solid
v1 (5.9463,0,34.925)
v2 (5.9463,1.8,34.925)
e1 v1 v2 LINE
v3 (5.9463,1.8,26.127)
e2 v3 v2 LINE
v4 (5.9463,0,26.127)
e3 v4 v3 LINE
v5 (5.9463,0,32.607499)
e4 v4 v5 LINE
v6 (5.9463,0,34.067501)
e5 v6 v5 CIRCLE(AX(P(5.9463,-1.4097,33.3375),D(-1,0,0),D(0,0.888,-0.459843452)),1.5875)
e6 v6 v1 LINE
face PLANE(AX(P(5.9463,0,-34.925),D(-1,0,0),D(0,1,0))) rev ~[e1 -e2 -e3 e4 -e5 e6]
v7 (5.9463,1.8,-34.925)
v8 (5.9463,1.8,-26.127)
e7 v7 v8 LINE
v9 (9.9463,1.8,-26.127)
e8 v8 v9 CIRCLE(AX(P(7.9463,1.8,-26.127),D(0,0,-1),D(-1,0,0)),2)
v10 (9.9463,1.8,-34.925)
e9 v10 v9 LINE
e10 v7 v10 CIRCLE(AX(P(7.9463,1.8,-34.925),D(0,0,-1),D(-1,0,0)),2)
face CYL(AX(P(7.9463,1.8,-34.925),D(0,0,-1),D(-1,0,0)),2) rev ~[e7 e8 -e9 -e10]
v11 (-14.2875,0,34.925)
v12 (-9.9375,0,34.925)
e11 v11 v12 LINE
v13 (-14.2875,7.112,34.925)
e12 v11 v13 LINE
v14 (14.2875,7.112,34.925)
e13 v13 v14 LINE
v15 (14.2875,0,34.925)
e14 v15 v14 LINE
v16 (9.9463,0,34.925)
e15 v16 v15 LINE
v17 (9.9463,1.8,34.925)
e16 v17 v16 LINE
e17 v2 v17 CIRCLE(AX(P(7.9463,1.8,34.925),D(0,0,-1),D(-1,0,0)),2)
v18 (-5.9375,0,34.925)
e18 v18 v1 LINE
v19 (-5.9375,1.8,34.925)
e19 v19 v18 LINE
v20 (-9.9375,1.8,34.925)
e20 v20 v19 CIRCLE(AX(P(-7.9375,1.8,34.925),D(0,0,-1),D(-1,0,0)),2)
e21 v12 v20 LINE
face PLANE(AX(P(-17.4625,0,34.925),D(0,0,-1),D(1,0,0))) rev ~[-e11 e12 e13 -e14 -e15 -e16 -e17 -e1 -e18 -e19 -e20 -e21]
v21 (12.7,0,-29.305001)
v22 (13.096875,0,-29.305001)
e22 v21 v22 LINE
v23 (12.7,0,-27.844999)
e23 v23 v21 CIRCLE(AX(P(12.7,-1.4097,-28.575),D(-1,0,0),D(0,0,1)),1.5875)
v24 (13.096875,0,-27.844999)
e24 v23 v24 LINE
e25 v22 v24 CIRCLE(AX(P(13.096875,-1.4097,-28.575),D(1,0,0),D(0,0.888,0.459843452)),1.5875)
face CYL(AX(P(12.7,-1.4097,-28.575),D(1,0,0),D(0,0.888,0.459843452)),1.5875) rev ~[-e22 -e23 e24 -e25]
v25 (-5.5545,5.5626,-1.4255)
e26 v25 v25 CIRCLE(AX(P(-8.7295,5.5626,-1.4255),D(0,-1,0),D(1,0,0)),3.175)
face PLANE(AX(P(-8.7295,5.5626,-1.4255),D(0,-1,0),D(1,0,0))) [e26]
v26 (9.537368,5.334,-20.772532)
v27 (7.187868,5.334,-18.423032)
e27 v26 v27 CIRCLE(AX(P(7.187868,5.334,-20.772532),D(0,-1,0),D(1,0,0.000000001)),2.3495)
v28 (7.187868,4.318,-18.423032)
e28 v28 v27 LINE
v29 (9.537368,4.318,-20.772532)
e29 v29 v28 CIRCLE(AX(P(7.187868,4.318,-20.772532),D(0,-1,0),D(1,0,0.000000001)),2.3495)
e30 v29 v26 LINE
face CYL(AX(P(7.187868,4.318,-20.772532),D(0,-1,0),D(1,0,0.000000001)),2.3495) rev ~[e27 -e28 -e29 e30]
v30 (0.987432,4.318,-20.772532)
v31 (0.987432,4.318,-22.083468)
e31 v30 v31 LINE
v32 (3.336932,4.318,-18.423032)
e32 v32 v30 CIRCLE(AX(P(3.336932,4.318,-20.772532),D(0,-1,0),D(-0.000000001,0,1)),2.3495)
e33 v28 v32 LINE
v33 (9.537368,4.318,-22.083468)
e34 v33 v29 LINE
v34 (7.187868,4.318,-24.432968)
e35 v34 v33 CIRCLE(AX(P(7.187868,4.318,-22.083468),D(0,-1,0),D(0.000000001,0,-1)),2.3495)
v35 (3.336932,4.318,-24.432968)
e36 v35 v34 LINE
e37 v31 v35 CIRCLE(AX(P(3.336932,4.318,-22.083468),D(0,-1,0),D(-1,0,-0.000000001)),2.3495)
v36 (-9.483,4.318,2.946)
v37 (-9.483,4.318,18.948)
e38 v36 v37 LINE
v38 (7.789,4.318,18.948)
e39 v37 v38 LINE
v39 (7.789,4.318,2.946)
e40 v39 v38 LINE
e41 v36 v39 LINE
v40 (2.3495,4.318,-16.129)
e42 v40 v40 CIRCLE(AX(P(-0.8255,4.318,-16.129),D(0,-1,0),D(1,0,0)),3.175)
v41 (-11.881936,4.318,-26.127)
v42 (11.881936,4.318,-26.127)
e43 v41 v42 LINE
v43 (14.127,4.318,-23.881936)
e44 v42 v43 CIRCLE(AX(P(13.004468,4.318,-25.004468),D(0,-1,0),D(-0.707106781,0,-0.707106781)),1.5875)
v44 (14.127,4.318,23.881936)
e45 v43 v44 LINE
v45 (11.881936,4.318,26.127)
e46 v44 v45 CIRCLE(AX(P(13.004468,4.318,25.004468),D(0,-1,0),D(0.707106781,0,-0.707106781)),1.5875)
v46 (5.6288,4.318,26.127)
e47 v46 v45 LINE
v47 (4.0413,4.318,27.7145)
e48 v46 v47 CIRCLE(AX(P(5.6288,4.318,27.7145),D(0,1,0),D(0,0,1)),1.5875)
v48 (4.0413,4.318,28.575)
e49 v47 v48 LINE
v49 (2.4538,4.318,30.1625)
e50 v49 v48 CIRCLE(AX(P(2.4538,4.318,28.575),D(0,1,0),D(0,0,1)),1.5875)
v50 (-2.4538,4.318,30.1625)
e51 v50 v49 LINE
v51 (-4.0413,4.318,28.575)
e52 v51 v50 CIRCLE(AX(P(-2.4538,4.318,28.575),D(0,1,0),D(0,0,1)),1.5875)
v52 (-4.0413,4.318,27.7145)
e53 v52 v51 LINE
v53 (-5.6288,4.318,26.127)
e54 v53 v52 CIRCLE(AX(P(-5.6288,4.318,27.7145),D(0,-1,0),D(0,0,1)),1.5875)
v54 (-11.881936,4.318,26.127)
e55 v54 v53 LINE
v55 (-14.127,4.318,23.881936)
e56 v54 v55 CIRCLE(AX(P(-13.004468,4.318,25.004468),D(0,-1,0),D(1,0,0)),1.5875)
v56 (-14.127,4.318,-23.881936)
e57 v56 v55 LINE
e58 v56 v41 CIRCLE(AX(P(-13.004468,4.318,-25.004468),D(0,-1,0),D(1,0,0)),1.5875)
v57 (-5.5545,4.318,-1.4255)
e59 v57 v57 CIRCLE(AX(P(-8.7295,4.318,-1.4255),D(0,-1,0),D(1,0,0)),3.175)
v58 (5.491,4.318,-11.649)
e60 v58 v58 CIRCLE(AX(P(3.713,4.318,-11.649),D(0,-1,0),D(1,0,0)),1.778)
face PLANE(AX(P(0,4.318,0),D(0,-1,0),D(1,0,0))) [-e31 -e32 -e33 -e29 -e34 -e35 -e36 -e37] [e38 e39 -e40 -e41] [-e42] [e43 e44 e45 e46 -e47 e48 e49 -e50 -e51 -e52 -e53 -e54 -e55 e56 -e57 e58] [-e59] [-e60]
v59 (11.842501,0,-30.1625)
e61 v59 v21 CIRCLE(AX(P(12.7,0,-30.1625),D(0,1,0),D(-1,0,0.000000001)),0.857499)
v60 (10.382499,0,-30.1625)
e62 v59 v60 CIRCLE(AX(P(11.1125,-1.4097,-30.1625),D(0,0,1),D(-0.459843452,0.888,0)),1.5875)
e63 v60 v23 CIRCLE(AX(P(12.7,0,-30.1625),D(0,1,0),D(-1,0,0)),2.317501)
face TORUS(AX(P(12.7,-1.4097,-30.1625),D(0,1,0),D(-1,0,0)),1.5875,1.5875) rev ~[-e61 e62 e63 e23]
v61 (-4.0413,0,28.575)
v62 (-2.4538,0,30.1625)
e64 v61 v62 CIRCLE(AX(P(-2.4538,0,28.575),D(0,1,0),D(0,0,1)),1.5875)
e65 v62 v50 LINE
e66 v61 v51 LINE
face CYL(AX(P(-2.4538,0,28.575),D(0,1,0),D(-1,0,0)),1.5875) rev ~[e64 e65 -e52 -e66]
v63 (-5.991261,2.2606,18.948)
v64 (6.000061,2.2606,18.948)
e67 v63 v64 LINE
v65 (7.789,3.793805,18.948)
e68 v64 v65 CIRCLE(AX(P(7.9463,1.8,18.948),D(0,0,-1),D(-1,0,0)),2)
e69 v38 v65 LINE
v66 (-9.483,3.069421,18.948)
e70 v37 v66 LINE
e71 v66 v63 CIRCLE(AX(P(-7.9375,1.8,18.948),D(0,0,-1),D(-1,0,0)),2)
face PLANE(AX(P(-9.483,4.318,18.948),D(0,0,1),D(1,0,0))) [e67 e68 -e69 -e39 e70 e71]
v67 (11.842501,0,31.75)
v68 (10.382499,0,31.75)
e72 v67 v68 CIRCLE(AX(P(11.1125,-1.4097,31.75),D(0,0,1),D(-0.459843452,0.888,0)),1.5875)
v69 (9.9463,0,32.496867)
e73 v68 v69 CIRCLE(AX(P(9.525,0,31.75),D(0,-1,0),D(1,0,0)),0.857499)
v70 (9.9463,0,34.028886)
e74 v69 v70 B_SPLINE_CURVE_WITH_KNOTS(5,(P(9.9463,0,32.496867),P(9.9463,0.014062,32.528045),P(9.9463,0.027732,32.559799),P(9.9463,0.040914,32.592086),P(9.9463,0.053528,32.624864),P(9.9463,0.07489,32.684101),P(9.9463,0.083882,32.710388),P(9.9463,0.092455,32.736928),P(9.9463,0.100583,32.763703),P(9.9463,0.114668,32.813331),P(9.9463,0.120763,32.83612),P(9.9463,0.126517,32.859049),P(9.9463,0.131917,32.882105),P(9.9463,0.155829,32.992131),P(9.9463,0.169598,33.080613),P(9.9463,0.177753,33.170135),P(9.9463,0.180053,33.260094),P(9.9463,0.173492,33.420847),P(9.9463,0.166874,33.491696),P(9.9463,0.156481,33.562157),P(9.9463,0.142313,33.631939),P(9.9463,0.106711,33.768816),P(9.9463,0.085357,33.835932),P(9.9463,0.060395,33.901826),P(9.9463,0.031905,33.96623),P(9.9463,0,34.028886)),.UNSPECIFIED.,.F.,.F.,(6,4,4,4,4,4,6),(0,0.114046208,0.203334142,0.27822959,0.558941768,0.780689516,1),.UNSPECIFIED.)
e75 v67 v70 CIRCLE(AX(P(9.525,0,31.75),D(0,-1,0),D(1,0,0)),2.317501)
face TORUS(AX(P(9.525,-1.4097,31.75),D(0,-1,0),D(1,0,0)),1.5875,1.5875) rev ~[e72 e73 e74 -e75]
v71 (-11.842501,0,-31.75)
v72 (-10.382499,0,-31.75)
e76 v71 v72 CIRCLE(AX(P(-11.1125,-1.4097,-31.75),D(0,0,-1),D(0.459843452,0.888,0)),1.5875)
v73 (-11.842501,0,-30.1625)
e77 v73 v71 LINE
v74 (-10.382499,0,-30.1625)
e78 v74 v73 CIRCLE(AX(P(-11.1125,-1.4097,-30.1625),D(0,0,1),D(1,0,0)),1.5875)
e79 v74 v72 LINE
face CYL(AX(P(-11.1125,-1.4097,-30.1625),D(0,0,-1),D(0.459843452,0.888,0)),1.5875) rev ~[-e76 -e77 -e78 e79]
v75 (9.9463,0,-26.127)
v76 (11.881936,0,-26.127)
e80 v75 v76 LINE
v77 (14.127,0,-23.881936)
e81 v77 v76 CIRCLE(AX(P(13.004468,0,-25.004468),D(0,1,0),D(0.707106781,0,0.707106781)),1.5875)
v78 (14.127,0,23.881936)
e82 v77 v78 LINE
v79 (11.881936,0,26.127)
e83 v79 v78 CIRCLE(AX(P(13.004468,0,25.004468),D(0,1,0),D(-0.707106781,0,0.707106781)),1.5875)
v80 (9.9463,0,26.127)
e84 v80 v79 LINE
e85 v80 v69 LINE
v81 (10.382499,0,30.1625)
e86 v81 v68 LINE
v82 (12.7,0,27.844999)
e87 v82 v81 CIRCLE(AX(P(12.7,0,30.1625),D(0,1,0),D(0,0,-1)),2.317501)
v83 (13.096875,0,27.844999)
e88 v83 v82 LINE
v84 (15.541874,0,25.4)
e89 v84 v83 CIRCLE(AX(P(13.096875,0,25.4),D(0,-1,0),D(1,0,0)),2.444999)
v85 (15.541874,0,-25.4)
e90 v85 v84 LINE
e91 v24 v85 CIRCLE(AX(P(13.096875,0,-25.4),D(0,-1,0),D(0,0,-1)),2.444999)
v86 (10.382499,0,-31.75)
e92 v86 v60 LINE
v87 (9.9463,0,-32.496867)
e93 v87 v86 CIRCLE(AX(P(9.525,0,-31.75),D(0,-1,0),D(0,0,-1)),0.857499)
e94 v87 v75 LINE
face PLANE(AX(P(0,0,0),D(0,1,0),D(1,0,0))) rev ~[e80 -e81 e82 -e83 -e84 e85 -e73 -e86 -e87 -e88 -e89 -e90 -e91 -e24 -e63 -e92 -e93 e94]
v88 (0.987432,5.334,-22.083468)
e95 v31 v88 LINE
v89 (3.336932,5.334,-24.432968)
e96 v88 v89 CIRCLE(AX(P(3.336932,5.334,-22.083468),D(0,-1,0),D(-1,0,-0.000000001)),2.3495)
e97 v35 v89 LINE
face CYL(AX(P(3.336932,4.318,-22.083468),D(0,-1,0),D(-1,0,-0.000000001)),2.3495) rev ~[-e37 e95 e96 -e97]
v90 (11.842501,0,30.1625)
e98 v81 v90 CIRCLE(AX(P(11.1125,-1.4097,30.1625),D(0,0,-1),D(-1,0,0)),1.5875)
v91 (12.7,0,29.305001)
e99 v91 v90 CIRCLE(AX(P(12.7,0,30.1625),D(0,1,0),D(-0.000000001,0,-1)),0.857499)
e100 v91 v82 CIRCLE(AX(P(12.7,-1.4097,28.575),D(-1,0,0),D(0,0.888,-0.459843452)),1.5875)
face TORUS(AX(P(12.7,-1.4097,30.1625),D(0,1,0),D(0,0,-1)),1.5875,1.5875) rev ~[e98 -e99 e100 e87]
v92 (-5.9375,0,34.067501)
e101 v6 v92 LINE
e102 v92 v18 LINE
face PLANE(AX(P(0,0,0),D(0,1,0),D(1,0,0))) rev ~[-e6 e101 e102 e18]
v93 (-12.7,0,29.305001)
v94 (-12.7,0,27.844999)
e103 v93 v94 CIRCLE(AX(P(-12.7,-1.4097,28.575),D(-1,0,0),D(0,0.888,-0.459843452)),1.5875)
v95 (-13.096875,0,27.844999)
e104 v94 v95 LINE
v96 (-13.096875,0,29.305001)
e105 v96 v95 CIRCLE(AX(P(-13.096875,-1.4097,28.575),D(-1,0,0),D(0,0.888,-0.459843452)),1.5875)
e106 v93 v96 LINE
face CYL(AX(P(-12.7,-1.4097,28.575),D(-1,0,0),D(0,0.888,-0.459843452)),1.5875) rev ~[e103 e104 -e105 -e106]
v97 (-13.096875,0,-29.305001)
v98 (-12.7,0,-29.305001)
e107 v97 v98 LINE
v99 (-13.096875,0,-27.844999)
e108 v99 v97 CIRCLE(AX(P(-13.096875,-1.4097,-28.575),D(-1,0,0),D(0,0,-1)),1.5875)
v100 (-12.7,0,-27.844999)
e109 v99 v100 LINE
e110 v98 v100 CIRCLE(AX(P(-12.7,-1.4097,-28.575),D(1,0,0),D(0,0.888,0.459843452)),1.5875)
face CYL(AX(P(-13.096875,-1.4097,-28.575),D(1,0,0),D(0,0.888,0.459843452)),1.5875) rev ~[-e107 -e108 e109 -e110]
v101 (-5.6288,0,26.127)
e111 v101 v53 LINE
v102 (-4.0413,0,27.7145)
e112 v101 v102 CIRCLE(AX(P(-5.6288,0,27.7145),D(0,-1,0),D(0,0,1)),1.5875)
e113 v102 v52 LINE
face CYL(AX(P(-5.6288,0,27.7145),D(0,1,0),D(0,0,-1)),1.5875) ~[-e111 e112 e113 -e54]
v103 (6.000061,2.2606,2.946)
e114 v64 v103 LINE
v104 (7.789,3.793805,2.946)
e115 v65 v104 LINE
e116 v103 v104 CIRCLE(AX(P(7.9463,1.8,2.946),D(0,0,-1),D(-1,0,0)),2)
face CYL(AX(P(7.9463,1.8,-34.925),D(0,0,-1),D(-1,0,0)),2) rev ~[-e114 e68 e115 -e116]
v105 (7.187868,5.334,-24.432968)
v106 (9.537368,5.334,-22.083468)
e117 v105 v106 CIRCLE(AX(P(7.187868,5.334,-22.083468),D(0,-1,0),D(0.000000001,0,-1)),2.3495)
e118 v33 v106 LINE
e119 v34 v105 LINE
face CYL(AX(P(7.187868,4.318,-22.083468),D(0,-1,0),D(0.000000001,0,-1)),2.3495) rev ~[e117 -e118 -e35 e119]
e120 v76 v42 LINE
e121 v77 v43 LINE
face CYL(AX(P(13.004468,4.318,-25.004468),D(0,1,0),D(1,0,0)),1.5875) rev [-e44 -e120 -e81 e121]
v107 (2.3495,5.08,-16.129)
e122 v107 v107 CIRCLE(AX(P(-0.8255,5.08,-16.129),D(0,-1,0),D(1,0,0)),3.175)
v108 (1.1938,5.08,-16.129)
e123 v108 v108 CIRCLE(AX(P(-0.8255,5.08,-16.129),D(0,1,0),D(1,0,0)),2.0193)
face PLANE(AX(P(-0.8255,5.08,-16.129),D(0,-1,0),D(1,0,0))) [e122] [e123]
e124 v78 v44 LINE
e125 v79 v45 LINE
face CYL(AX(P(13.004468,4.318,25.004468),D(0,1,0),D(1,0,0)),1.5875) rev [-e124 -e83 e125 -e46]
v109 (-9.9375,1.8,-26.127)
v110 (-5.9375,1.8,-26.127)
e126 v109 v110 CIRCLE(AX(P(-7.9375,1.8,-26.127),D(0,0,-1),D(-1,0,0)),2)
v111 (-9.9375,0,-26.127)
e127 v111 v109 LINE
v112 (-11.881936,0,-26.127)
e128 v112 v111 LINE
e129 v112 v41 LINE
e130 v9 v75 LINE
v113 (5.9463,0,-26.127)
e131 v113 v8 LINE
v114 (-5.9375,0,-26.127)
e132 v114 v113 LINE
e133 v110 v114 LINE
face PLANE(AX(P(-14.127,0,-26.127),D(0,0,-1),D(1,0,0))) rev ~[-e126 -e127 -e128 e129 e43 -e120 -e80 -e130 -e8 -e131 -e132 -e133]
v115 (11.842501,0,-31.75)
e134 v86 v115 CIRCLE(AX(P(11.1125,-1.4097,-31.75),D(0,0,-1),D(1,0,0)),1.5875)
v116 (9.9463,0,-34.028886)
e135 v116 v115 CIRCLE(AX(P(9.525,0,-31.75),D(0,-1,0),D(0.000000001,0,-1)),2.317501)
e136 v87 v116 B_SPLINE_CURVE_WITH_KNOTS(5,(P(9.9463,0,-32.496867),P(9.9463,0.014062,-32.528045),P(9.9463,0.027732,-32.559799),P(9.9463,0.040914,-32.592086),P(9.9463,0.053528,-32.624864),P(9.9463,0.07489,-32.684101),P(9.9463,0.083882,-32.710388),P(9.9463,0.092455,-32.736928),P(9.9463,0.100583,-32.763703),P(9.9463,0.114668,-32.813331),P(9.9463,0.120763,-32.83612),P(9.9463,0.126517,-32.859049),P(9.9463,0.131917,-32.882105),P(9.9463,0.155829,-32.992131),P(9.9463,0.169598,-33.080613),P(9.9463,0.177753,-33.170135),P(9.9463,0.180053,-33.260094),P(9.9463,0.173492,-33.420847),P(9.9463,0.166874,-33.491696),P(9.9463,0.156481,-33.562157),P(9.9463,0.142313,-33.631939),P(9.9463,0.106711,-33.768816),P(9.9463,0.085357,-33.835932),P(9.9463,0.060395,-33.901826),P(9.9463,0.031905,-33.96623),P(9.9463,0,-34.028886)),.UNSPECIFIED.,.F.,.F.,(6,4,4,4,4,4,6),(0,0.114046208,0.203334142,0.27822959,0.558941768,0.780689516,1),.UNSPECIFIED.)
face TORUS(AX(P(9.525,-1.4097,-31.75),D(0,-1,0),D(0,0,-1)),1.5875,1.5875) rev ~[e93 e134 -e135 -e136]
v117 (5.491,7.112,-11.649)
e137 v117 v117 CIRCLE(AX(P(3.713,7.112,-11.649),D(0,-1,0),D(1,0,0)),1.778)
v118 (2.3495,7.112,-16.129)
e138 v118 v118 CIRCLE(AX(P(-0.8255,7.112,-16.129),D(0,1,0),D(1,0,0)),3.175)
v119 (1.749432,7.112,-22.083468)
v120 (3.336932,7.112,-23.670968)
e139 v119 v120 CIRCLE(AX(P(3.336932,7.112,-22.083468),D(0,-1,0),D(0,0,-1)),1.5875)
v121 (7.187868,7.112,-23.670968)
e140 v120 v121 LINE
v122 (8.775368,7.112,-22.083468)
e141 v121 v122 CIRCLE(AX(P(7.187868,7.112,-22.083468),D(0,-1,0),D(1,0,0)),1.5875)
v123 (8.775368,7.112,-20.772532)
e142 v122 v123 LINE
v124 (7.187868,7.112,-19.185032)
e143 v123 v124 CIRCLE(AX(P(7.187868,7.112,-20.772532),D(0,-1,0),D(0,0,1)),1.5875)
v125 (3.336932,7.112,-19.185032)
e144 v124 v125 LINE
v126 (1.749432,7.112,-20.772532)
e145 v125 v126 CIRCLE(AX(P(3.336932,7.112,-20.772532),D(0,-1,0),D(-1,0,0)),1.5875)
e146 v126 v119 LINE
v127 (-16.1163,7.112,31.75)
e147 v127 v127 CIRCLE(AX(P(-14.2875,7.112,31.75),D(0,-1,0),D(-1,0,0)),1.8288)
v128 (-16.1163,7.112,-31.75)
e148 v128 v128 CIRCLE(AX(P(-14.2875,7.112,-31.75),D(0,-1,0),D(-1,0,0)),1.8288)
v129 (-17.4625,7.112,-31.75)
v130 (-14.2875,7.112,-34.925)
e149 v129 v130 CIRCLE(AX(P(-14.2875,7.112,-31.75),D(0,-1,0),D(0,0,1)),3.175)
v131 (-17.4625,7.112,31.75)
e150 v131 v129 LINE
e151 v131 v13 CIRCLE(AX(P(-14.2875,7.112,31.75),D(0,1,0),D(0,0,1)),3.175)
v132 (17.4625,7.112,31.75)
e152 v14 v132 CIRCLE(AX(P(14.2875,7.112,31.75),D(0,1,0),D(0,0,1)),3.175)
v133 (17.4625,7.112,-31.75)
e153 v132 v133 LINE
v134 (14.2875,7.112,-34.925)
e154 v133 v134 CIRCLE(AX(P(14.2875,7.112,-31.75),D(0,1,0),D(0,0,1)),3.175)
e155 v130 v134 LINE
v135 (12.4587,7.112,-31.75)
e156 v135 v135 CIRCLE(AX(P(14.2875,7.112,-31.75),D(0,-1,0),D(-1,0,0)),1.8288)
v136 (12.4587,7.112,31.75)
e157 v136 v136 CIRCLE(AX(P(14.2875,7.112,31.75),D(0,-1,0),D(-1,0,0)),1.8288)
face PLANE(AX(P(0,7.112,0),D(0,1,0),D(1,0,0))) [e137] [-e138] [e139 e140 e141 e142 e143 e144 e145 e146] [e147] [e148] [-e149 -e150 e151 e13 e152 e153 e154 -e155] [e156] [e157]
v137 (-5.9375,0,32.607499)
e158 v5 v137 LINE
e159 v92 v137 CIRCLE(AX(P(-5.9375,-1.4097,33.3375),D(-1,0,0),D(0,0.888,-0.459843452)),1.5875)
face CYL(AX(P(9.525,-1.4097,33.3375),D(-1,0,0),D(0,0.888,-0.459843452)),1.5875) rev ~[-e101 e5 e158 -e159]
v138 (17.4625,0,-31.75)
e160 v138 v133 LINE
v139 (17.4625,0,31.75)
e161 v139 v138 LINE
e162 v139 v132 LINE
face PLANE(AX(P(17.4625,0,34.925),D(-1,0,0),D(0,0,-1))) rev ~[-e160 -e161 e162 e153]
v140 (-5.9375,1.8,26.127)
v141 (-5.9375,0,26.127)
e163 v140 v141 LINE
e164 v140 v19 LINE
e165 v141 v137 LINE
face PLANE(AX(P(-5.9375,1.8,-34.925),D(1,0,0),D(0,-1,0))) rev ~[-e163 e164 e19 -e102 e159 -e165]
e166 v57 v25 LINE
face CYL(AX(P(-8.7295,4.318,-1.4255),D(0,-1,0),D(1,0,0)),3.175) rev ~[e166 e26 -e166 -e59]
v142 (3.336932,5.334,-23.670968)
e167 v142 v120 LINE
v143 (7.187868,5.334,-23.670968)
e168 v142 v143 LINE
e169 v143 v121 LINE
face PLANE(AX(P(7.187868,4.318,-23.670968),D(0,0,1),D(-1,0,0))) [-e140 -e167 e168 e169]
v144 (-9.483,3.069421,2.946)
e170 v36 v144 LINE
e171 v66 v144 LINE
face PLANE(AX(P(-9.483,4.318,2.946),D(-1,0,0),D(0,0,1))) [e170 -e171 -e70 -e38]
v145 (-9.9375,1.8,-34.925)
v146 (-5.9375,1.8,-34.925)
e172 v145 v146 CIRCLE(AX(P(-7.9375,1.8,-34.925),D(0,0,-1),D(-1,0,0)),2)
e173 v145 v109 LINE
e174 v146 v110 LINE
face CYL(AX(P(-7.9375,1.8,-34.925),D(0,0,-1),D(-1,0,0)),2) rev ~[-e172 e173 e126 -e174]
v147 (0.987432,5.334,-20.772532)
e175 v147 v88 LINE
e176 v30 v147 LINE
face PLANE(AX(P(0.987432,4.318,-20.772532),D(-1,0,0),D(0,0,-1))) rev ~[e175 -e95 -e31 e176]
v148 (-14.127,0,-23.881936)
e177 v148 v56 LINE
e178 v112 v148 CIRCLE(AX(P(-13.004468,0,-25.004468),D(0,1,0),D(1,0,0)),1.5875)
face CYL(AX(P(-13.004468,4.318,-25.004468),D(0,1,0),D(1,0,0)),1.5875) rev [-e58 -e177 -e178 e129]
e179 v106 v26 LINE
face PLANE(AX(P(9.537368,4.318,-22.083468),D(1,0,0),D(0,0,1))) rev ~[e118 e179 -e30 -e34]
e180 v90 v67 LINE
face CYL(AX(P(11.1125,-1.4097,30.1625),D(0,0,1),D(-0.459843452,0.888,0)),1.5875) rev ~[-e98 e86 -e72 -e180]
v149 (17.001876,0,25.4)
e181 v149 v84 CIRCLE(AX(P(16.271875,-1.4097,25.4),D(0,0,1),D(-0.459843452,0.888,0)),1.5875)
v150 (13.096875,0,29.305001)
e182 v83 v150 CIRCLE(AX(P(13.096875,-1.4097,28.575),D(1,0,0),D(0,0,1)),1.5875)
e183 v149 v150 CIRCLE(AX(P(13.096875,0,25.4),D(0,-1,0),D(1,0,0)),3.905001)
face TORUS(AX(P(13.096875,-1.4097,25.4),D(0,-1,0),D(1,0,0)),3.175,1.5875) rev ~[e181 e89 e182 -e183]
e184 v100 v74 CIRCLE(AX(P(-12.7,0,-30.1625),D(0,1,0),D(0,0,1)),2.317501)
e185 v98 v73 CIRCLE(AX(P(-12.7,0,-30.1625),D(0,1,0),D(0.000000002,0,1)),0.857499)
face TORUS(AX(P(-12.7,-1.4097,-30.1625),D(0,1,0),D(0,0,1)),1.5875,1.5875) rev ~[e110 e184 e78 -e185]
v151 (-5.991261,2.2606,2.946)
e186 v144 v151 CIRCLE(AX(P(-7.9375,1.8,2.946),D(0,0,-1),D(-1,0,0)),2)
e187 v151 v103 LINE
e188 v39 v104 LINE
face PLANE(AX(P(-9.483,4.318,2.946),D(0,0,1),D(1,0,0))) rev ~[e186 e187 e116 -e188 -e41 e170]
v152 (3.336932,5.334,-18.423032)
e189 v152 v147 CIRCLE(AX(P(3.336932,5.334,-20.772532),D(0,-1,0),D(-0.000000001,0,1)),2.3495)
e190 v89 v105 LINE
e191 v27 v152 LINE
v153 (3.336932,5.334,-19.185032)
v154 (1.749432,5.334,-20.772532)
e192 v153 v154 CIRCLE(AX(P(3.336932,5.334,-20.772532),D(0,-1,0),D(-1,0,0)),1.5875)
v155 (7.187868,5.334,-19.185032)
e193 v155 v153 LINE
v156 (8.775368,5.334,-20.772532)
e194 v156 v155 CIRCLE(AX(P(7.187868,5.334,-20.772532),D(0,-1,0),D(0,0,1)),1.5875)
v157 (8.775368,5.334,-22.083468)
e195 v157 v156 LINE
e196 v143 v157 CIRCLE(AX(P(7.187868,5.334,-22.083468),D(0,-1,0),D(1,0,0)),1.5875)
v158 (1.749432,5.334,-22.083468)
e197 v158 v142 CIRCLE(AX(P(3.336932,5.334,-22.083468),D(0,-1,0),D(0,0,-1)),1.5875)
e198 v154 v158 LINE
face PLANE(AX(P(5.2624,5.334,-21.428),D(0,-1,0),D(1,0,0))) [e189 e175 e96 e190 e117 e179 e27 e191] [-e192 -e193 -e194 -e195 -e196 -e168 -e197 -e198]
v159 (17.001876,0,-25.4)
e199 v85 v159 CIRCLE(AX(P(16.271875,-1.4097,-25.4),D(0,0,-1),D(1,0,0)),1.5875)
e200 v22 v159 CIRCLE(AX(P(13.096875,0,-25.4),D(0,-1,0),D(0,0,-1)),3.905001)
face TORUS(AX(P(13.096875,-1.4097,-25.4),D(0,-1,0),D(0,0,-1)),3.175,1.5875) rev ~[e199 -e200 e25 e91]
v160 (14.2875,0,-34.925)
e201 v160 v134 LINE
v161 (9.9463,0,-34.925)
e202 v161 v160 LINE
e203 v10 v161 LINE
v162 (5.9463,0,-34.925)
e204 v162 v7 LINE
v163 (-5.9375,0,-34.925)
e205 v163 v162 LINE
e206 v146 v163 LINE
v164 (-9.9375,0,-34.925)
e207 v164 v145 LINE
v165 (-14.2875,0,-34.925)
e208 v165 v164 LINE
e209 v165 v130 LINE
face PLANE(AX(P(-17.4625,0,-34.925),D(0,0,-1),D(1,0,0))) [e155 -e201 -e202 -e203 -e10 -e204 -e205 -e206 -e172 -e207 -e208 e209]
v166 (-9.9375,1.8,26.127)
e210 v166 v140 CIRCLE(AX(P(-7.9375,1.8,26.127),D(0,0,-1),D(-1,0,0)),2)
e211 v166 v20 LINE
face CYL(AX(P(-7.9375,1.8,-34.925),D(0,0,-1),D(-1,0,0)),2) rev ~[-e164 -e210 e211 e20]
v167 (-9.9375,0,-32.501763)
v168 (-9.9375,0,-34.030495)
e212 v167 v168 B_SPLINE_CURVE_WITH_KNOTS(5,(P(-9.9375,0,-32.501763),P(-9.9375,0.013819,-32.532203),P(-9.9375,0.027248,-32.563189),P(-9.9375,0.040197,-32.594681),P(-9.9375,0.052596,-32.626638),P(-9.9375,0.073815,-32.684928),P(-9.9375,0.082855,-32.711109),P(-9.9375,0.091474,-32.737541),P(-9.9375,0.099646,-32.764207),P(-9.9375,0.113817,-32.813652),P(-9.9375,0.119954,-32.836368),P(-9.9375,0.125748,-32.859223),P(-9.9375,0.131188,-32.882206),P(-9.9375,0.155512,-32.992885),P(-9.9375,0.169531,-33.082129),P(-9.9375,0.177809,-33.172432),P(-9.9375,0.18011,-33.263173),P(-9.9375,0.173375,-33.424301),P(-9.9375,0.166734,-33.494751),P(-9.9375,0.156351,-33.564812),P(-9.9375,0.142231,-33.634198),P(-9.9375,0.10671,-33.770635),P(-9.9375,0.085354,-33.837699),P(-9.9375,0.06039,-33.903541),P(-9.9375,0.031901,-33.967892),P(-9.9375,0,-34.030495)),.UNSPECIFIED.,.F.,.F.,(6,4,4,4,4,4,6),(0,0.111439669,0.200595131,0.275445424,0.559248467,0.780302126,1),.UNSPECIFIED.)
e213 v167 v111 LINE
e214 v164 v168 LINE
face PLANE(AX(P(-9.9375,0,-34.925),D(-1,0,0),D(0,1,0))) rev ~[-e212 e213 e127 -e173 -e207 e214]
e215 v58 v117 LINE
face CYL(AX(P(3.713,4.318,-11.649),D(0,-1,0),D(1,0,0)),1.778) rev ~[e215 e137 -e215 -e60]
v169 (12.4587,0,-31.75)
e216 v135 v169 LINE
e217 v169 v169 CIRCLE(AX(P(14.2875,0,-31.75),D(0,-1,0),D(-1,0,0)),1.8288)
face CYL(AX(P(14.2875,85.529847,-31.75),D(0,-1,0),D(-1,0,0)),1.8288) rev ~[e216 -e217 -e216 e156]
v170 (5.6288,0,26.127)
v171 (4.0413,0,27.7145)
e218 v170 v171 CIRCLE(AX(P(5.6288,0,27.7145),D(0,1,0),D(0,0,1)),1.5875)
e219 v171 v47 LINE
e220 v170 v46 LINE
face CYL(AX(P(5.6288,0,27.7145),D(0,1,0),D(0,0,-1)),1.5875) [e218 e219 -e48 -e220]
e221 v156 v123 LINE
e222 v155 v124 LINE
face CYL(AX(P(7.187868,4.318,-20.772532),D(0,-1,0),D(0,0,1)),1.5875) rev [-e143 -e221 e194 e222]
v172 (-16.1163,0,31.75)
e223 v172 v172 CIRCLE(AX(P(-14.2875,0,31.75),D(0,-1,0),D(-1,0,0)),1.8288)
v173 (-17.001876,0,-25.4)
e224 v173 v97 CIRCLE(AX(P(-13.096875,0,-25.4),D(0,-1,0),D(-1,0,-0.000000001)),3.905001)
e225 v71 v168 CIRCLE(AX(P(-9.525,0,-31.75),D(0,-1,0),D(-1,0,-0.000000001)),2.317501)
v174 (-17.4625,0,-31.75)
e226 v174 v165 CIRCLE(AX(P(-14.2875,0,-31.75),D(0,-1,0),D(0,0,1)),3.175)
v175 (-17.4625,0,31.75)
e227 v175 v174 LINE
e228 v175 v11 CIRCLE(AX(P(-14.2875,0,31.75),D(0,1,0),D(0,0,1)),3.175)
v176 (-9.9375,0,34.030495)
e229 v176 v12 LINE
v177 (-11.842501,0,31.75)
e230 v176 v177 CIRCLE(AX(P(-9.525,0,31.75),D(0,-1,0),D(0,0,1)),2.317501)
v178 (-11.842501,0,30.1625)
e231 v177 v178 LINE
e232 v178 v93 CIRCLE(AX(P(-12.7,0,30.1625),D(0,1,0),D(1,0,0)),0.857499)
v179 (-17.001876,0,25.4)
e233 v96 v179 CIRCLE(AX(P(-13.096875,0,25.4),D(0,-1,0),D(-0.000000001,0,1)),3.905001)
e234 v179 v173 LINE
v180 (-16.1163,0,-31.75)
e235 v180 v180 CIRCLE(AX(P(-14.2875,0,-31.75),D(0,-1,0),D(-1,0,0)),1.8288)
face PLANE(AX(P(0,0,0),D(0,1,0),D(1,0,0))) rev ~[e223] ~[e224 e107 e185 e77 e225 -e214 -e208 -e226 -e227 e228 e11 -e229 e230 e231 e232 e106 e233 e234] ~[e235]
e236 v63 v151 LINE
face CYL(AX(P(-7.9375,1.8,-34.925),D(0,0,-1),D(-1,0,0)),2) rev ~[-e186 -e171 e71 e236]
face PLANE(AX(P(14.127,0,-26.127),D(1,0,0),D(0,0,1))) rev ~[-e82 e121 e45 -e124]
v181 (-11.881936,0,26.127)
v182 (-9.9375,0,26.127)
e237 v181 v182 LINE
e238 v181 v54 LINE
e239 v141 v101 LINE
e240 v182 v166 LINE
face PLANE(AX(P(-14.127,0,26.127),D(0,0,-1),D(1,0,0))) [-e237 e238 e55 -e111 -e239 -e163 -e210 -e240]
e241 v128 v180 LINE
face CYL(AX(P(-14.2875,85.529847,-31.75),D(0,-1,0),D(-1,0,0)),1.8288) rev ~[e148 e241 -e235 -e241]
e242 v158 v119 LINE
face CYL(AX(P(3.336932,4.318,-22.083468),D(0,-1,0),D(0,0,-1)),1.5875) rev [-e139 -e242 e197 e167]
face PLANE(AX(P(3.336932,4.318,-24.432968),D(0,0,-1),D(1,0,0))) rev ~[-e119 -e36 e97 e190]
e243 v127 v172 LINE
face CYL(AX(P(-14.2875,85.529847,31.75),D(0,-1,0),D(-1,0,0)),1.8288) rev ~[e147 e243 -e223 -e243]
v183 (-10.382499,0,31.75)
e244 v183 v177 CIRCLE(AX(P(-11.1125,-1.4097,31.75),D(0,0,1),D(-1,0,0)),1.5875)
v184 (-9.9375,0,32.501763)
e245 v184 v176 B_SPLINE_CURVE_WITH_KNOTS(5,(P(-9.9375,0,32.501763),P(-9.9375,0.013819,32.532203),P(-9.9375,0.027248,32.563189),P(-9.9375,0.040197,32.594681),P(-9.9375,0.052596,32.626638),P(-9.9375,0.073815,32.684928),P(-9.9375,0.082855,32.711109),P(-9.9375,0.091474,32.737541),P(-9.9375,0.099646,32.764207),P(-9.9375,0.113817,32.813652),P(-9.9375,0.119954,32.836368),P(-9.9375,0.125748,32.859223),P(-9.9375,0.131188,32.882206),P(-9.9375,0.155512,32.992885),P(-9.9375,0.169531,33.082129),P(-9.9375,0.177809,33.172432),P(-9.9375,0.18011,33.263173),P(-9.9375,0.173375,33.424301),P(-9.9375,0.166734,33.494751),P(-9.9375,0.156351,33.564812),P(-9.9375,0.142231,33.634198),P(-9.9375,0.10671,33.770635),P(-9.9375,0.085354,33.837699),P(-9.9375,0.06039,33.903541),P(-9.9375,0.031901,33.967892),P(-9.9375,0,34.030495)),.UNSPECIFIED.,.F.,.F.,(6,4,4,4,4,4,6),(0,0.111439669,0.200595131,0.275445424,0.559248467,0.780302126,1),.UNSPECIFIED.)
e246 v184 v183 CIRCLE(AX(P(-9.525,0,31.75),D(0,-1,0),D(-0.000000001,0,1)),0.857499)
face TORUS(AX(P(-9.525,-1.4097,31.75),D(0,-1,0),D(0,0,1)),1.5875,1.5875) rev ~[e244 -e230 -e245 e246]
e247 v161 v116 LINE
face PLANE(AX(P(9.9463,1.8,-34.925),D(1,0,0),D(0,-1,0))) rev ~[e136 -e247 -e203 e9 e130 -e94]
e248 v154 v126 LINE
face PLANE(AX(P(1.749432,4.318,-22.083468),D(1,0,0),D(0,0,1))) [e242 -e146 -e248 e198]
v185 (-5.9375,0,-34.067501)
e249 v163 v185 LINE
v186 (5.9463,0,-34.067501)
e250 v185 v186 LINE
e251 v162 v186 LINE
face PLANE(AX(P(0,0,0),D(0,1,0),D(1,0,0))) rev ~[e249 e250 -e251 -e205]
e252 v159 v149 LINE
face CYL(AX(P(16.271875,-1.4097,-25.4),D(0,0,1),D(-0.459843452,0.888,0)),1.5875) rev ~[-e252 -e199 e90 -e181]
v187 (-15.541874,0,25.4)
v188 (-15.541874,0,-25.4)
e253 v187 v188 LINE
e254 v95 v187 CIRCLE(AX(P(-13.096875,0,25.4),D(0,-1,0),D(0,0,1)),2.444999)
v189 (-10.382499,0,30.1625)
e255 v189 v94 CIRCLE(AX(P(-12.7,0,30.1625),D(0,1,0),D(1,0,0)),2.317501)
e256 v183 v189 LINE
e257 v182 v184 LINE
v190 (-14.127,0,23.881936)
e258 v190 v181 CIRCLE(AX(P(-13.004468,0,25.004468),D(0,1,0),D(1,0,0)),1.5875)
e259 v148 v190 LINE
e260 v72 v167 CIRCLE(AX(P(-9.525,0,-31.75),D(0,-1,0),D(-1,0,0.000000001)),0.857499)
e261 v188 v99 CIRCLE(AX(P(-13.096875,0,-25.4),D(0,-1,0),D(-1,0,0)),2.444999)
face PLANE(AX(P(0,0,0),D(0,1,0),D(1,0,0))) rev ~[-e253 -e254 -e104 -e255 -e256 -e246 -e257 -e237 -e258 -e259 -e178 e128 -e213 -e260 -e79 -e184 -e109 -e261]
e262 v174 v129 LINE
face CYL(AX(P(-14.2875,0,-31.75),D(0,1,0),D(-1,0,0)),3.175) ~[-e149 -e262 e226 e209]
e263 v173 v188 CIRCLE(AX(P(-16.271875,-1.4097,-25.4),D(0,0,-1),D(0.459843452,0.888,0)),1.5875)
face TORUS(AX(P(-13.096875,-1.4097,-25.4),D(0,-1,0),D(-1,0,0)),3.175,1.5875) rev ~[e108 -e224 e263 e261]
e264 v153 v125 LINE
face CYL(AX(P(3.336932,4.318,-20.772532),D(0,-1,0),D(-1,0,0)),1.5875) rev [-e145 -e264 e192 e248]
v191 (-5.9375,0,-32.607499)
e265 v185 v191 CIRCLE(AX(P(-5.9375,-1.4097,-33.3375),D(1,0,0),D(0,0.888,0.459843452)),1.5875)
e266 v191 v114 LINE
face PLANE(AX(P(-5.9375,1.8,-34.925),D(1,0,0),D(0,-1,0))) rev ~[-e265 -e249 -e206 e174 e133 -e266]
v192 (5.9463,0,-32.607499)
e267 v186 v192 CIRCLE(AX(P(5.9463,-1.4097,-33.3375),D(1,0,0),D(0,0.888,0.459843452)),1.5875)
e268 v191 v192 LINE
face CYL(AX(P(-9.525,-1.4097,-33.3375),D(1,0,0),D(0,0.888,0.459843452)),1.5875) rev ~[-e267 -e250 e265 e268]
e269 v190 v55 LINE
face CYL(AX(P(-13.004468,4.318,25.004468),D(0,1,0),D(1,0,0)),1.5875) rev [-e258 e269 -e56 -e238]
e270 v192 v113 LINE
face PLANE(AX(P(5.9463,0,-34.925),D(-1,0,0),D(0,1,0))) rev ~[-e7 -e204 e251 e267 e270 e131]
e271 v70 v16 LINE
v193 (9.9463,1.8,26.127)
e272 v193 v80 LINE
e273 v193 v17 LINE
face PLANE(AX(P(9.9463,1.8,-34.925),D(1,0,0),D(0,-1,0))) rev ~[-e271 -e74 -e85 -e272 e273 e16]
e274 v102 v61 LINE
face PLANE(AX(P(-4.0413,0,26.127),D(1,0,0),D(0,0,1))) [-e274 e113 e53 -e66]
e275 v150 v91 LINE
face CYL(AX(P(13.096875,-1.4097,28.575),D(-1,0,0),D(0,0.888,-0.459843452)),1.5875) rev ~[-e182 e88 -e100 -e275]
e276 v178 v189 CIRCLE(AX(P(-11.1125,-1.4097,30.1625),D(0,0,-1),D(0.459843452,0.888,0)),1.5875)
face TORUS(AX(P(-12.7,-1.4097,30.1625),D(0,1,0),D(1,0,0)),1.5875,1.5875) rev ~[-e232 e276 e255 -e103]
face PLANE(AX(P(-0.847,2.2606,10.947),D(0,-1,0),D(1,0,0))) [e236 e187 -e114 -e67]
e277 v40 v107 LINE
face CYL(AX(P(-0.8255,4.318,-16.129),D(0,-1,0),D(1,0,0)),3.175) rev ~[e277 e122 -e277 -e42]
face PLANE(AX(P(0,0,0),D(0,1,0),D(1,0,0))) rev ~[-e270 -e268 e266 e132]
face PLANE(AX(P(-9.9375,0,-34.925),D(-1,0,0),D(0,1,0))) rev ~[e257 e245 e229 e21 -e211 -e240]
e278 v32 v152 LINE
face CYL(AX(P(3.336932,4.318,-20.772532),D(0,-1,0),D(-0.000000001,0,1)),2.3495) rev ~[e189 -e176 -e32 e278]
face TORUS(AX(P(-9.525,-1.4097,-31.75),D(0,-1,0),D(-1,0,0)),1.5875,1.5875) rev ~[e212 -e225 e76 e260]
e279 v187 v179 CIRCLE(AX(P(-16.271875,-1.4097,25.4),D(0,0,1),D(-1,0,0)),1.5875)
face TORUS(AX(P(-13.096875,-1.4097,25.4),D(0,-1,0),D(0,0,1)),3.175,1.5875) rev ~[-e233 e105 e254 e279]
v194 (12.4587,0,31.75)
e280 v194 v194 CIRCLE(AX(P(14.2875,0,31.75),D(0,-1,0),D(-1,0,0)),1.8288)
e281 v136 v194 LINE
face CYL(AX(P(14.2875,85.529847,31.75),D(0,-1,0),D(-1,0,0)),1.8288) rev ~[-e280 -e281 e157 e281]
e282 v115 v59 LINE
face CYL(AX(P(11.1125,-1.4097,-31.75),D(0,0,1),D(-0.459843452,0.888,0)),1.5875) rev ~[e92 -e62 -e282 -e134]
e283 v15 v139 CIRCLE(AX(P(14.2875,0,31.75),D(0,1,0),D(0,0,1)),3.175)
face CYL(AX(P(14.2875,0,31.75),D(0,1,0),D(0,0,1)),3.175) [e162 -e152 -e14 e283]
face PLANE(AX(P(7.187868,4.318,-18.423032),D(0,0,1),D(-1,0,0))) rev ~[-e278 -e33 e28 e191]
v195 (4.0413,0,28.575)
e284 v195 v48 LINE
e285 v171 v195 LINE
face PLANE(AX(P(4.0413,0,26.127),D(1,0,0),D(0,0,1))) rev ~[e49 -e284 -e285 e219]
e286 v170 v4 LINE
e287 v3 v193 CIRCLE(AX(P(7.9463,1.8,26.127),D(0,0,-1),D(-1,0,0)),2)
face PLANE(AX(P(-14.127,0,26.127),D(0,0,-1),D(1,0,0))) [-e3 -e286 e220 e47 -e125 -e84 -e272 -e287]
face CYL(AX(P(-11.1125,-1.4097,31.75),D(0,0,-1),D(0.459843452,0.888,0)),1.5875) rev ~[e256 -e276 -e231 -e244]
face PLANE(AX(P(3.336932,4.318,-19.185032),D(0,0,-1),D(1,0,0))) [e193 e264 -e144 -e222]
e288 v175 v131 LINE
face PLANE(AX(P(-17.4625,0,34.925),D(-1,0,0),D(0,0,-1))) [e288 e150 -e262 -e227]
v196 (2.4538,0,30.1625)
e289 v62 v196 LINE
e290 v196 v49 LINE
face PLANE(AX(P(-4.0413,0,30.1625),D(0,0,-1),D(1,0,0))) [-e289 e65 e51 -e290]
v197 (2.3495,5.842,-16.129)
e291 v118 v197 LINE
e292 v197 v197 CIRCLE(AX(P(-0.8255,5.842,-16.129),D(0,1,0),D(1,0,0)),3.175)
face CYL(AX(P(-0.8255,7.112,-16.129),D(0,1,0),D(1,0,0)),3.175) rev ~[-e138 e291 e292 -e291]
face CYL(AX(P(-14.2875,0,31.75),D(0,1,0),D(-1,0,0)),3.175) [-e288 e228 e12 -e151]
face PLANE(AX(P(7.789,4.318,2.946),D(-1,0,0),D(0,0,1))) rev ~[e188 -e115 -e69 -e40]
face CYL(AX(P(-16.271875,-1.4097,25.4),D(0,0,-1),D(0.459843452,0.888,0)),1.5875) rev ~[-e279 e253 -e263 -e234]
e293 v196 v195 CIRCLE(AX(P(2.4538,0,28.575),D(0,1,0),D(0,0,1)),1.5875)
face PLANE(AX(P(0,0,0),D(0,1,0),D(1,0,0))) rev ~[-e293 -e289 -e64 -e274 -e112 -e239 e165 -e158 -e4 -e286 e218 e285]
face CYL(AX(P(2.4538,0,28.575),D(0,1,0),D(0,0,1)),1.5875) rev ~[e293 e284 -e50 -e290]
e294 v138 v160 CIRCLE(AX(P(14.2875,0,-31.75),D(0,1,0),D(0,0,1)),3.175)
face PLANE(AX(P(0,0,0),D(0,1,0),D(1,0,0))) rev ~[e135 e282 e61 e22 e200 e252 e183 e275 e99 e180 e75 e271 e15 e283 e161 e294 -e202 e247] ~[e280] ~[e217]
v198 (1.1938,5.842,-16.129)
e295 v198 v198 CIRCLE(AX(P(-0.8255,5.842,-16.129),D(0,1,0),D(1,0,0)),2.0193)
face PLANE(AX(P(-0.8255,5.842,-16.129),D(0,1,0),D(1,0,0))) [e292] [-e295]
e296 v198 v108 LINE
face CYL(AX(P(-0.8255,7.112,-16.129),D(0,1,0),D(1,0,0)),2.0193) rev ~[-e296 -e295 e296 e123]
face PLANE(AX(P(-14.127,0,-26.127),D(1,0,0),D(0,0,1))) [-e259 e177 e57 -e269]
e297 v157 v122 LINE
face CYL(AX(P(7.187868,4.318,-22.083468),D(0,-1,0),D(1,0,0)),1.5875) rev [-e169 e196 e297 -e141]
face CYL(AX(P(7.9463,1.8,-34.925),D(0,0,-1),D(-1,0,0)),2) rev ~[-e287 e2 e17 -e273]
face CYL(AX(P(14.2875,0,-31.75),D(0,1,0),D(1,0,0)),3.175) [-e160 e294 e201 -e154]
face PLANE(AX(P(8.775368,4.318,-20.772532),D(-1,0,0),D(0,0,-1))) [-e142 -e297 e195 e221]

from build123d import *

# Parameters (mm, degrees)
SKETCH1_W             = 34.925
SKETCH1_H             = 69.85
BOSS_EXTRUDE1_DEPTH   = 7.112
FILLET1_R             = 3.175
SKETCH8_R             = 2.38125
BOSS_EXTRUDE2_DEPTH   = 7.112
SKETCH9_R             = 2.0193
CUT_EXTRUDE6_DEPTH    = 8.112
SKETCH12_W            = 28.25399988
SKETCH12_H            = 52.253999886
CUT_EXTRUDE8_DEPTH    = 4.318
FILLET2_R             = 1.5875
SKETCH16_W            = 17.272
SKETCH16_H            = 16.002
BOSS_EXTRUDE3_DEPTH   = 2.0574
CUT_EXTRUDE10_DEPTH   = 70.85
F_6_CLEARANCE_HOLE1_D = 3.6576
SKETCH36_W            = 8.08260004
SKETCH36_H            = 4.035500057
CUT_EXTRUDE17_DEPTH   = 4.318
FILLET3_R             = 1.5875
CUT_EXTRUDE18_DEPTH   = 3.794
SKETCH38_R            = 3.175
CUT_EXTRUDE19_DEPTH   = 1.2446
SKETCH39_R            = 1.778
CUT_EXTRUDE20_DEPTH   = 2.8956
SKETCH40_R            = 1.5875
CUT_EXTRUDE21_DEPTH   = 5.3180001
SKETCH41_R            = 3.175
CUT_EXTRUDE22_DEPTH   = 1.27
SKETCH42_R            = 3.175
CUT_EXTRUDE23_DEPTH   = 0.762
CUT_EXTRUDE24_DEPTH   = 1.016


with BuildPart() as part:
    # Sketch1 → Boss-Extrude1 (new body)
    with BuildSketch(Plane(origin=(0, 0, 0), x_dir=(1, 0, 0), z_dir=(0, 1, 0))):
        Rectangle(SKETCH1_W, SKETCH1_H)
    extrude(amount=BOSS_EXTRUDE1_DEPTH)

    # Fillet1
    fillet1_edges = [part.edges().sort_by_distance(p)[0] for p in [
        (17.4625, 3.556, 34.925),
        (-17.4625, 3.556, 34.925),
        (-17.4625, 3.556, -34.925),
        (17.4625, 3.556, -34.925),
    ]]
    fillet(fillet1_edges, radius=FILLET1_R)

    # Sketch8 → Boss-Extrude2 (add)
    with BuildSketch(Plane(origin=(0, 0, 0), x_dir=(1, 0, 0), z_dir=(0, 1, 0))):
        with Locations((-1.2573, 21.6662)):
            Circle(SKETCH8_R)
    extrude(amount=BOSS_EXTRUDE2_DEPTH)

    # Sketch9 → Cut-Extrude6 (cut, through all)
    with BuildSketch(Plane(origin=(0, 7.112, 0), x_dir=(1, 0, 0), z_dir=(0, 1, 0))):
        with Locations((-0.8255, 16.129)):
            Circle(SKETCH9_R)
    extrude(amount=-CUT_EXTRUDE6_DEPTH, mode=Mode.SUBTRACT)

    # Sketch12 → Cut-Extrude8 (cut)
    with BuildSketch(Plane.XZ):
        Rectangle(SKETCH12_W, SKETCH12_H)
    extrude(amount=-CUT_EXTRUDE8_DEPTH, mode=Mode.SUBTRACT)

    # Fillet2
    fillet2_edges = [part.edges().sort_by_distance(p)[0] for p in [
        (-14.12699994, 2.159, 26.126999943),
        (14.12699994, 2.159, 26.126999943),
        (14.12699994, 2.159, -26.126999943),
        (-14.12699994, 2.159, -26.126999943),
    ]]
    fillet(fillet2_edges, radius=FILLET2_R)

    # Sketch16 → Boss-Extrude3 (add)
    with BuildSketch(Plane.XZ.offset(-4.318)):
        with Locations((-0.847000084, 10.947000013)):
            Rectangle(SKETCH16_W, SKETCH16_H)
    extrude(amount=BOSS_EXTRUDE3_DEPTH)

    # Cut-Sweep1: sweep along a path in Sketch31
    with BuildLine(Plane.XZ) as cut_sweep1_path:
        Line((-12.7, 28.575), (-13.096875, 28.575))
        ThreePointArc((-13.096875, 28.575), (-15.34193903, 27.64506403), (-16.271875, 25.4))
        Line((-16.271875, 25.4), (-16.271875, -25.4))
        ThreePointArc((-16.271875, -25.4), (-15.34193903, -27.64506403), (-13.096875, -28.575))
        Line((-13.096875, -28.575), (-12.7, -28.575))
        ThreePointArc((-12.7, -28.575), (-11.577467985, -29.039967985), (-11.1125, -30.1625))
        Line((-11.1125, -30.1625), (-11.1125, -31.75))
        ThreePointArc((-11.1125, -31.75), (-10.647532015, -32.872532015), (-9.525, -33.3375))
        Line((-9.525, -33.3375), (9.525, -33.3375))
        ThreePointArc((9.525, -33.3375), (10.647532015, -32.872532015), (11.1125, -31.75))
        Line((11.1125, -31.75), (11.1125, -30.1625))
        ThreePointArc((11.1125, -30.1625), (11.577467985, -29.039967985), (12.7, -28.575))
        Line((12.7, -28.575), (13.096875, -28.575))
        ThreePointArc((13.096875, -28.575), (15.34193903, -27.64506403), (16.271875, -25.4))
        Line((16.271875, -25.4), (16.271875, 25.4))
        ThreePointArc((16.271875, 25.4), (15.34193903, 27.64506403), (13.096875, 28.575))
        Line((13.096875, 28.575), (12.7, 28.575))
        ThreePointArc((12.7, 28.575), (11.577467985, 29.039967985), (11.1125, 30.1625))
        Line((11.1125, 30.1625), (11.1125, 31.75))
        ThreePointArc((11.1125, 31.75), (10.647532015, 32.872532015), (9.525, 33.3375))
        Line((9.525, 33.3375), (-9.525, 33.3375))
        ThreePointArc((-9.525, 33.3375), (-10.647532015, 32.872532015), (-11.1125, 31.75))
        Line((-11.1125, 31.75), (-11.1125, 30.1625))
        ThreePointArc((-11.1125, 30.1625), (-11.577467985, 29.039967985), (-12.7, 28.575))
    # Sketch32 → Cut-Sweep1 (sweep, cut)
    with BuildSketch(Plane(origin=(0, 0, 0), x_dir=(0, 0, -1), z_dir=(1, 0, 0))):
        with BuildLine():
            Line((-34.067501479, 0), (-32.607498521, 0))
            ThreePointArc((-32.607498521, 0), (-33.3375, 0.1778), (-34.067501479, 0))
        make_face()
    sweep(path=cut_sweep1_path.line, mode=Mode.SUBTRACT)

    # Sketch15 → Cut-Extrude10 (cut, through all)
    with BuildSketch(Plane(origin=(0, 0, -34.925), x_dir=(-1, 0, 0), z_dir=(0, 0, -1))):
        with BuildLine():
            Line((-5.94630002, 0), (-5.94630002, 1.80000002))
            ThreePointArc((-5.94630002, 1.80000002), (-7.94630002, 3.80000002), (-9.94630002, 1.80000002))
            Line((-9.94630002, 1.80000002), (-9.94630002, 0))
            ThreePointArc((-9.94630002, 0), (-7.94630002, -2), (-5.94630002, 0))
        make_face()
        with BuildLine():
            Line((9.9375, 0), (9.9375, 1.80000002))
            ThreePointArc((9.9375, 1.80000002), (7.9375, 3.80000002), (5.9375, 1.80000002))
            Line((5.9375, 1.80000002), (5.9375, 0))
            ThreePointArc((5.9375, 0), (7.9375, -2), (9.9375, 0))
        make_face()
    extrude(amount=-CUT_EXTRUDE10_DEPTH, mode=Mode.SUBTRACT)

    # #6 Clearance Hole1 (through all)
    with Locations(Plane(origin=(0, 7.112, 0), x_dir=(1, 0, 0), z_dir=(0, 1, 0))):
        with Locations((-14.2875, -31.75), (-14.2875, 31.75), (14.2875, 31.75), (14.2875, -31.75)):
            Hole(F_6_CLEARANCE_HOLE1_D / 2)

    # Sketch36 → Cut-Extrude17 (cut)
    with BuildSketch(Plane.XZ):
        with Locations((0, 28.144749972)):
            Rectangle(SKETCH36_W, SKETCH36_H)
    extrude(amount=-CUT_EXTRUDE17_DEPTH, mode=Mode.SUBTRACT)

    # Fillet3
    fillet3_edges = [part.edges().sort_by_distance(p)[0] for p in [
        (4.04130002, 2.159, 30.1625),
        (4.04130002, 2.159, 26.126999943),
        (-4.04130002, 2.159, 26.126999943),
        (-4.04130002, 2.159, 30.1625),
    ]]
    fillet(fillet3_edges, radius=FILLET3_R)

    # Sketch37 → Cut-Extrude18 (cut, through all)
    with BuildSketch(Plane.XZ.offset(-4.318)):
        with BuildLine():
            Line((7.187867925, -23.670967928), (3.336931955, -23.670967928))
            ThreePointArc((3.336931955, -23.670967928), (2.21439994, -23.205999943), (1.749431955, -22.083467928))
            Line((1.749431955, -22.083467928), (1.749431955, -20.772531958))
            ThreePointArc((1.749431955, -20.772531958), (2.21439994, -19.649999943), (3.336931955, -19.185031958))
            Line((3.336931955, -19.185031958), (7.187867925, -19.185031958))
            ThreePointArc((7.187867925, -19.185031958), (8.31039994, -19.649999943), (8.775367925, -20.772531958))
            Line((8.775367925, -20.772531958), (8.775367925, -22.083467928))
            ThreePointArc((8.775367925, -22.083467928), (8.31039994, -23.205999943), (7.187867925, -23.670967928))
        make_face()
    extrude(amount=-CUT_EXTRUDE18_DEPTH, mode=Mode.SUBTRACT)

    # Sketch38 → Cut-Extrude19 (cut)
    with BuildSketch(Plane.XZ.offset(-4.318)):
        with Locations((-8.72949994, -1.425499943)):
            Circle(SKETCH38_R)
    extrude(amount=-CUT_EXTRUDE19_DEPTH, mode=Mode.SUBTRACT)

    # Sketch39 → Cut-Extrude20 (cut)
    with BuildSketch(Plane.XZ.offset(-4.318)):
        with Locations((3.71299994, -11.648999943)):
            Circle(SKETCH39_R)
    extrude(amount=-CUT_EXTRUDE20_DEPTH, mode=Mode.SUBTRACT)

    # Sketch40 → Cut-Extrude21 (cut, through all)
    with BuildSketch(Plane.XZ.offset(-4.318)):
        with Locations((13.004467925, 25.004467928)):
            Circle(SKETCH40_R)
        with Locations((13.004467925, -25.004467928)):
            Circle(SKETCH40_R)
        with Locations((-13.004467925, -25.004467928)):
            Circle(SKETCH40_R)
        with Locations((-13.004467925, 25.004467928)):
            Circle(SKETCH40_R)
    extrude(amount=CUT_EXTRUDE21_DEPTH, mode=Mode.SUBTRACT)

    # Sketch41 → Cut-Extrude22 (cut)
    with BuildSketch(Plane(origin=(0, 7.112, 0), x_dir=(1, 0, 0), z_dir=(0, 1, 0))):
        with Locations((-0.8255, 16.129)):
            Circle(SKETCH41_R)
    extrude(amount=-CUT_EXTRUDE22_DEPTH, mode=Mode.SUBTRACT)

    # Sketch42 → Cut-Extrude23 (cut)
    with BuildSketch(Plane.XZ.offset(-4.318)):
        with Locations((-0.8255, -16.129)):
            Circle(SKETCH42_R)
    extrude(amount=-CUT_EXTRUDE23_DEPTH, mode=Mode.SUBTRACT)

    # Sketch43 → Cut-Extrude24 (cut)
    with BuildSketch(Plane.XZ.offset(-4.318)):
        with BuildLine():
            Line((0.987431955, -20.772531958), (0.987431955, -22.083467928))
            ThreePointArc((0.987431955, -22.083467928), (1.675584573, -23.74481531), (3.336931955, -24.432967928))
            Line((3.336931955, -24.432967928), (7.187867925, -24.432967928))
            ThreePointArc((7.187867925, -24.432967928), (8.849215307, -23.74481531), (9.537367925, -22.083467928))
            Line((9.537367925, -22.083467928), (9.537367925, -20.772531958))
            ThreePointArc((9.537367925, -20.772531958), (8.849215307, -19.111184576), (7.187867925, -18.423031958))
            Line((7.187867925, -18.423031958), (3.336931955, -18.423031958))
            ThreePointArc((3.336931955, -18.423031958), (1.675584573, -19.111184576), (0.987431955, -20.772531958))
        make_face()
    extrude(amount=-CUT_EXTRUDE24_DEPTH, mode=Mode.SUBTRACT)


solid = part.part
